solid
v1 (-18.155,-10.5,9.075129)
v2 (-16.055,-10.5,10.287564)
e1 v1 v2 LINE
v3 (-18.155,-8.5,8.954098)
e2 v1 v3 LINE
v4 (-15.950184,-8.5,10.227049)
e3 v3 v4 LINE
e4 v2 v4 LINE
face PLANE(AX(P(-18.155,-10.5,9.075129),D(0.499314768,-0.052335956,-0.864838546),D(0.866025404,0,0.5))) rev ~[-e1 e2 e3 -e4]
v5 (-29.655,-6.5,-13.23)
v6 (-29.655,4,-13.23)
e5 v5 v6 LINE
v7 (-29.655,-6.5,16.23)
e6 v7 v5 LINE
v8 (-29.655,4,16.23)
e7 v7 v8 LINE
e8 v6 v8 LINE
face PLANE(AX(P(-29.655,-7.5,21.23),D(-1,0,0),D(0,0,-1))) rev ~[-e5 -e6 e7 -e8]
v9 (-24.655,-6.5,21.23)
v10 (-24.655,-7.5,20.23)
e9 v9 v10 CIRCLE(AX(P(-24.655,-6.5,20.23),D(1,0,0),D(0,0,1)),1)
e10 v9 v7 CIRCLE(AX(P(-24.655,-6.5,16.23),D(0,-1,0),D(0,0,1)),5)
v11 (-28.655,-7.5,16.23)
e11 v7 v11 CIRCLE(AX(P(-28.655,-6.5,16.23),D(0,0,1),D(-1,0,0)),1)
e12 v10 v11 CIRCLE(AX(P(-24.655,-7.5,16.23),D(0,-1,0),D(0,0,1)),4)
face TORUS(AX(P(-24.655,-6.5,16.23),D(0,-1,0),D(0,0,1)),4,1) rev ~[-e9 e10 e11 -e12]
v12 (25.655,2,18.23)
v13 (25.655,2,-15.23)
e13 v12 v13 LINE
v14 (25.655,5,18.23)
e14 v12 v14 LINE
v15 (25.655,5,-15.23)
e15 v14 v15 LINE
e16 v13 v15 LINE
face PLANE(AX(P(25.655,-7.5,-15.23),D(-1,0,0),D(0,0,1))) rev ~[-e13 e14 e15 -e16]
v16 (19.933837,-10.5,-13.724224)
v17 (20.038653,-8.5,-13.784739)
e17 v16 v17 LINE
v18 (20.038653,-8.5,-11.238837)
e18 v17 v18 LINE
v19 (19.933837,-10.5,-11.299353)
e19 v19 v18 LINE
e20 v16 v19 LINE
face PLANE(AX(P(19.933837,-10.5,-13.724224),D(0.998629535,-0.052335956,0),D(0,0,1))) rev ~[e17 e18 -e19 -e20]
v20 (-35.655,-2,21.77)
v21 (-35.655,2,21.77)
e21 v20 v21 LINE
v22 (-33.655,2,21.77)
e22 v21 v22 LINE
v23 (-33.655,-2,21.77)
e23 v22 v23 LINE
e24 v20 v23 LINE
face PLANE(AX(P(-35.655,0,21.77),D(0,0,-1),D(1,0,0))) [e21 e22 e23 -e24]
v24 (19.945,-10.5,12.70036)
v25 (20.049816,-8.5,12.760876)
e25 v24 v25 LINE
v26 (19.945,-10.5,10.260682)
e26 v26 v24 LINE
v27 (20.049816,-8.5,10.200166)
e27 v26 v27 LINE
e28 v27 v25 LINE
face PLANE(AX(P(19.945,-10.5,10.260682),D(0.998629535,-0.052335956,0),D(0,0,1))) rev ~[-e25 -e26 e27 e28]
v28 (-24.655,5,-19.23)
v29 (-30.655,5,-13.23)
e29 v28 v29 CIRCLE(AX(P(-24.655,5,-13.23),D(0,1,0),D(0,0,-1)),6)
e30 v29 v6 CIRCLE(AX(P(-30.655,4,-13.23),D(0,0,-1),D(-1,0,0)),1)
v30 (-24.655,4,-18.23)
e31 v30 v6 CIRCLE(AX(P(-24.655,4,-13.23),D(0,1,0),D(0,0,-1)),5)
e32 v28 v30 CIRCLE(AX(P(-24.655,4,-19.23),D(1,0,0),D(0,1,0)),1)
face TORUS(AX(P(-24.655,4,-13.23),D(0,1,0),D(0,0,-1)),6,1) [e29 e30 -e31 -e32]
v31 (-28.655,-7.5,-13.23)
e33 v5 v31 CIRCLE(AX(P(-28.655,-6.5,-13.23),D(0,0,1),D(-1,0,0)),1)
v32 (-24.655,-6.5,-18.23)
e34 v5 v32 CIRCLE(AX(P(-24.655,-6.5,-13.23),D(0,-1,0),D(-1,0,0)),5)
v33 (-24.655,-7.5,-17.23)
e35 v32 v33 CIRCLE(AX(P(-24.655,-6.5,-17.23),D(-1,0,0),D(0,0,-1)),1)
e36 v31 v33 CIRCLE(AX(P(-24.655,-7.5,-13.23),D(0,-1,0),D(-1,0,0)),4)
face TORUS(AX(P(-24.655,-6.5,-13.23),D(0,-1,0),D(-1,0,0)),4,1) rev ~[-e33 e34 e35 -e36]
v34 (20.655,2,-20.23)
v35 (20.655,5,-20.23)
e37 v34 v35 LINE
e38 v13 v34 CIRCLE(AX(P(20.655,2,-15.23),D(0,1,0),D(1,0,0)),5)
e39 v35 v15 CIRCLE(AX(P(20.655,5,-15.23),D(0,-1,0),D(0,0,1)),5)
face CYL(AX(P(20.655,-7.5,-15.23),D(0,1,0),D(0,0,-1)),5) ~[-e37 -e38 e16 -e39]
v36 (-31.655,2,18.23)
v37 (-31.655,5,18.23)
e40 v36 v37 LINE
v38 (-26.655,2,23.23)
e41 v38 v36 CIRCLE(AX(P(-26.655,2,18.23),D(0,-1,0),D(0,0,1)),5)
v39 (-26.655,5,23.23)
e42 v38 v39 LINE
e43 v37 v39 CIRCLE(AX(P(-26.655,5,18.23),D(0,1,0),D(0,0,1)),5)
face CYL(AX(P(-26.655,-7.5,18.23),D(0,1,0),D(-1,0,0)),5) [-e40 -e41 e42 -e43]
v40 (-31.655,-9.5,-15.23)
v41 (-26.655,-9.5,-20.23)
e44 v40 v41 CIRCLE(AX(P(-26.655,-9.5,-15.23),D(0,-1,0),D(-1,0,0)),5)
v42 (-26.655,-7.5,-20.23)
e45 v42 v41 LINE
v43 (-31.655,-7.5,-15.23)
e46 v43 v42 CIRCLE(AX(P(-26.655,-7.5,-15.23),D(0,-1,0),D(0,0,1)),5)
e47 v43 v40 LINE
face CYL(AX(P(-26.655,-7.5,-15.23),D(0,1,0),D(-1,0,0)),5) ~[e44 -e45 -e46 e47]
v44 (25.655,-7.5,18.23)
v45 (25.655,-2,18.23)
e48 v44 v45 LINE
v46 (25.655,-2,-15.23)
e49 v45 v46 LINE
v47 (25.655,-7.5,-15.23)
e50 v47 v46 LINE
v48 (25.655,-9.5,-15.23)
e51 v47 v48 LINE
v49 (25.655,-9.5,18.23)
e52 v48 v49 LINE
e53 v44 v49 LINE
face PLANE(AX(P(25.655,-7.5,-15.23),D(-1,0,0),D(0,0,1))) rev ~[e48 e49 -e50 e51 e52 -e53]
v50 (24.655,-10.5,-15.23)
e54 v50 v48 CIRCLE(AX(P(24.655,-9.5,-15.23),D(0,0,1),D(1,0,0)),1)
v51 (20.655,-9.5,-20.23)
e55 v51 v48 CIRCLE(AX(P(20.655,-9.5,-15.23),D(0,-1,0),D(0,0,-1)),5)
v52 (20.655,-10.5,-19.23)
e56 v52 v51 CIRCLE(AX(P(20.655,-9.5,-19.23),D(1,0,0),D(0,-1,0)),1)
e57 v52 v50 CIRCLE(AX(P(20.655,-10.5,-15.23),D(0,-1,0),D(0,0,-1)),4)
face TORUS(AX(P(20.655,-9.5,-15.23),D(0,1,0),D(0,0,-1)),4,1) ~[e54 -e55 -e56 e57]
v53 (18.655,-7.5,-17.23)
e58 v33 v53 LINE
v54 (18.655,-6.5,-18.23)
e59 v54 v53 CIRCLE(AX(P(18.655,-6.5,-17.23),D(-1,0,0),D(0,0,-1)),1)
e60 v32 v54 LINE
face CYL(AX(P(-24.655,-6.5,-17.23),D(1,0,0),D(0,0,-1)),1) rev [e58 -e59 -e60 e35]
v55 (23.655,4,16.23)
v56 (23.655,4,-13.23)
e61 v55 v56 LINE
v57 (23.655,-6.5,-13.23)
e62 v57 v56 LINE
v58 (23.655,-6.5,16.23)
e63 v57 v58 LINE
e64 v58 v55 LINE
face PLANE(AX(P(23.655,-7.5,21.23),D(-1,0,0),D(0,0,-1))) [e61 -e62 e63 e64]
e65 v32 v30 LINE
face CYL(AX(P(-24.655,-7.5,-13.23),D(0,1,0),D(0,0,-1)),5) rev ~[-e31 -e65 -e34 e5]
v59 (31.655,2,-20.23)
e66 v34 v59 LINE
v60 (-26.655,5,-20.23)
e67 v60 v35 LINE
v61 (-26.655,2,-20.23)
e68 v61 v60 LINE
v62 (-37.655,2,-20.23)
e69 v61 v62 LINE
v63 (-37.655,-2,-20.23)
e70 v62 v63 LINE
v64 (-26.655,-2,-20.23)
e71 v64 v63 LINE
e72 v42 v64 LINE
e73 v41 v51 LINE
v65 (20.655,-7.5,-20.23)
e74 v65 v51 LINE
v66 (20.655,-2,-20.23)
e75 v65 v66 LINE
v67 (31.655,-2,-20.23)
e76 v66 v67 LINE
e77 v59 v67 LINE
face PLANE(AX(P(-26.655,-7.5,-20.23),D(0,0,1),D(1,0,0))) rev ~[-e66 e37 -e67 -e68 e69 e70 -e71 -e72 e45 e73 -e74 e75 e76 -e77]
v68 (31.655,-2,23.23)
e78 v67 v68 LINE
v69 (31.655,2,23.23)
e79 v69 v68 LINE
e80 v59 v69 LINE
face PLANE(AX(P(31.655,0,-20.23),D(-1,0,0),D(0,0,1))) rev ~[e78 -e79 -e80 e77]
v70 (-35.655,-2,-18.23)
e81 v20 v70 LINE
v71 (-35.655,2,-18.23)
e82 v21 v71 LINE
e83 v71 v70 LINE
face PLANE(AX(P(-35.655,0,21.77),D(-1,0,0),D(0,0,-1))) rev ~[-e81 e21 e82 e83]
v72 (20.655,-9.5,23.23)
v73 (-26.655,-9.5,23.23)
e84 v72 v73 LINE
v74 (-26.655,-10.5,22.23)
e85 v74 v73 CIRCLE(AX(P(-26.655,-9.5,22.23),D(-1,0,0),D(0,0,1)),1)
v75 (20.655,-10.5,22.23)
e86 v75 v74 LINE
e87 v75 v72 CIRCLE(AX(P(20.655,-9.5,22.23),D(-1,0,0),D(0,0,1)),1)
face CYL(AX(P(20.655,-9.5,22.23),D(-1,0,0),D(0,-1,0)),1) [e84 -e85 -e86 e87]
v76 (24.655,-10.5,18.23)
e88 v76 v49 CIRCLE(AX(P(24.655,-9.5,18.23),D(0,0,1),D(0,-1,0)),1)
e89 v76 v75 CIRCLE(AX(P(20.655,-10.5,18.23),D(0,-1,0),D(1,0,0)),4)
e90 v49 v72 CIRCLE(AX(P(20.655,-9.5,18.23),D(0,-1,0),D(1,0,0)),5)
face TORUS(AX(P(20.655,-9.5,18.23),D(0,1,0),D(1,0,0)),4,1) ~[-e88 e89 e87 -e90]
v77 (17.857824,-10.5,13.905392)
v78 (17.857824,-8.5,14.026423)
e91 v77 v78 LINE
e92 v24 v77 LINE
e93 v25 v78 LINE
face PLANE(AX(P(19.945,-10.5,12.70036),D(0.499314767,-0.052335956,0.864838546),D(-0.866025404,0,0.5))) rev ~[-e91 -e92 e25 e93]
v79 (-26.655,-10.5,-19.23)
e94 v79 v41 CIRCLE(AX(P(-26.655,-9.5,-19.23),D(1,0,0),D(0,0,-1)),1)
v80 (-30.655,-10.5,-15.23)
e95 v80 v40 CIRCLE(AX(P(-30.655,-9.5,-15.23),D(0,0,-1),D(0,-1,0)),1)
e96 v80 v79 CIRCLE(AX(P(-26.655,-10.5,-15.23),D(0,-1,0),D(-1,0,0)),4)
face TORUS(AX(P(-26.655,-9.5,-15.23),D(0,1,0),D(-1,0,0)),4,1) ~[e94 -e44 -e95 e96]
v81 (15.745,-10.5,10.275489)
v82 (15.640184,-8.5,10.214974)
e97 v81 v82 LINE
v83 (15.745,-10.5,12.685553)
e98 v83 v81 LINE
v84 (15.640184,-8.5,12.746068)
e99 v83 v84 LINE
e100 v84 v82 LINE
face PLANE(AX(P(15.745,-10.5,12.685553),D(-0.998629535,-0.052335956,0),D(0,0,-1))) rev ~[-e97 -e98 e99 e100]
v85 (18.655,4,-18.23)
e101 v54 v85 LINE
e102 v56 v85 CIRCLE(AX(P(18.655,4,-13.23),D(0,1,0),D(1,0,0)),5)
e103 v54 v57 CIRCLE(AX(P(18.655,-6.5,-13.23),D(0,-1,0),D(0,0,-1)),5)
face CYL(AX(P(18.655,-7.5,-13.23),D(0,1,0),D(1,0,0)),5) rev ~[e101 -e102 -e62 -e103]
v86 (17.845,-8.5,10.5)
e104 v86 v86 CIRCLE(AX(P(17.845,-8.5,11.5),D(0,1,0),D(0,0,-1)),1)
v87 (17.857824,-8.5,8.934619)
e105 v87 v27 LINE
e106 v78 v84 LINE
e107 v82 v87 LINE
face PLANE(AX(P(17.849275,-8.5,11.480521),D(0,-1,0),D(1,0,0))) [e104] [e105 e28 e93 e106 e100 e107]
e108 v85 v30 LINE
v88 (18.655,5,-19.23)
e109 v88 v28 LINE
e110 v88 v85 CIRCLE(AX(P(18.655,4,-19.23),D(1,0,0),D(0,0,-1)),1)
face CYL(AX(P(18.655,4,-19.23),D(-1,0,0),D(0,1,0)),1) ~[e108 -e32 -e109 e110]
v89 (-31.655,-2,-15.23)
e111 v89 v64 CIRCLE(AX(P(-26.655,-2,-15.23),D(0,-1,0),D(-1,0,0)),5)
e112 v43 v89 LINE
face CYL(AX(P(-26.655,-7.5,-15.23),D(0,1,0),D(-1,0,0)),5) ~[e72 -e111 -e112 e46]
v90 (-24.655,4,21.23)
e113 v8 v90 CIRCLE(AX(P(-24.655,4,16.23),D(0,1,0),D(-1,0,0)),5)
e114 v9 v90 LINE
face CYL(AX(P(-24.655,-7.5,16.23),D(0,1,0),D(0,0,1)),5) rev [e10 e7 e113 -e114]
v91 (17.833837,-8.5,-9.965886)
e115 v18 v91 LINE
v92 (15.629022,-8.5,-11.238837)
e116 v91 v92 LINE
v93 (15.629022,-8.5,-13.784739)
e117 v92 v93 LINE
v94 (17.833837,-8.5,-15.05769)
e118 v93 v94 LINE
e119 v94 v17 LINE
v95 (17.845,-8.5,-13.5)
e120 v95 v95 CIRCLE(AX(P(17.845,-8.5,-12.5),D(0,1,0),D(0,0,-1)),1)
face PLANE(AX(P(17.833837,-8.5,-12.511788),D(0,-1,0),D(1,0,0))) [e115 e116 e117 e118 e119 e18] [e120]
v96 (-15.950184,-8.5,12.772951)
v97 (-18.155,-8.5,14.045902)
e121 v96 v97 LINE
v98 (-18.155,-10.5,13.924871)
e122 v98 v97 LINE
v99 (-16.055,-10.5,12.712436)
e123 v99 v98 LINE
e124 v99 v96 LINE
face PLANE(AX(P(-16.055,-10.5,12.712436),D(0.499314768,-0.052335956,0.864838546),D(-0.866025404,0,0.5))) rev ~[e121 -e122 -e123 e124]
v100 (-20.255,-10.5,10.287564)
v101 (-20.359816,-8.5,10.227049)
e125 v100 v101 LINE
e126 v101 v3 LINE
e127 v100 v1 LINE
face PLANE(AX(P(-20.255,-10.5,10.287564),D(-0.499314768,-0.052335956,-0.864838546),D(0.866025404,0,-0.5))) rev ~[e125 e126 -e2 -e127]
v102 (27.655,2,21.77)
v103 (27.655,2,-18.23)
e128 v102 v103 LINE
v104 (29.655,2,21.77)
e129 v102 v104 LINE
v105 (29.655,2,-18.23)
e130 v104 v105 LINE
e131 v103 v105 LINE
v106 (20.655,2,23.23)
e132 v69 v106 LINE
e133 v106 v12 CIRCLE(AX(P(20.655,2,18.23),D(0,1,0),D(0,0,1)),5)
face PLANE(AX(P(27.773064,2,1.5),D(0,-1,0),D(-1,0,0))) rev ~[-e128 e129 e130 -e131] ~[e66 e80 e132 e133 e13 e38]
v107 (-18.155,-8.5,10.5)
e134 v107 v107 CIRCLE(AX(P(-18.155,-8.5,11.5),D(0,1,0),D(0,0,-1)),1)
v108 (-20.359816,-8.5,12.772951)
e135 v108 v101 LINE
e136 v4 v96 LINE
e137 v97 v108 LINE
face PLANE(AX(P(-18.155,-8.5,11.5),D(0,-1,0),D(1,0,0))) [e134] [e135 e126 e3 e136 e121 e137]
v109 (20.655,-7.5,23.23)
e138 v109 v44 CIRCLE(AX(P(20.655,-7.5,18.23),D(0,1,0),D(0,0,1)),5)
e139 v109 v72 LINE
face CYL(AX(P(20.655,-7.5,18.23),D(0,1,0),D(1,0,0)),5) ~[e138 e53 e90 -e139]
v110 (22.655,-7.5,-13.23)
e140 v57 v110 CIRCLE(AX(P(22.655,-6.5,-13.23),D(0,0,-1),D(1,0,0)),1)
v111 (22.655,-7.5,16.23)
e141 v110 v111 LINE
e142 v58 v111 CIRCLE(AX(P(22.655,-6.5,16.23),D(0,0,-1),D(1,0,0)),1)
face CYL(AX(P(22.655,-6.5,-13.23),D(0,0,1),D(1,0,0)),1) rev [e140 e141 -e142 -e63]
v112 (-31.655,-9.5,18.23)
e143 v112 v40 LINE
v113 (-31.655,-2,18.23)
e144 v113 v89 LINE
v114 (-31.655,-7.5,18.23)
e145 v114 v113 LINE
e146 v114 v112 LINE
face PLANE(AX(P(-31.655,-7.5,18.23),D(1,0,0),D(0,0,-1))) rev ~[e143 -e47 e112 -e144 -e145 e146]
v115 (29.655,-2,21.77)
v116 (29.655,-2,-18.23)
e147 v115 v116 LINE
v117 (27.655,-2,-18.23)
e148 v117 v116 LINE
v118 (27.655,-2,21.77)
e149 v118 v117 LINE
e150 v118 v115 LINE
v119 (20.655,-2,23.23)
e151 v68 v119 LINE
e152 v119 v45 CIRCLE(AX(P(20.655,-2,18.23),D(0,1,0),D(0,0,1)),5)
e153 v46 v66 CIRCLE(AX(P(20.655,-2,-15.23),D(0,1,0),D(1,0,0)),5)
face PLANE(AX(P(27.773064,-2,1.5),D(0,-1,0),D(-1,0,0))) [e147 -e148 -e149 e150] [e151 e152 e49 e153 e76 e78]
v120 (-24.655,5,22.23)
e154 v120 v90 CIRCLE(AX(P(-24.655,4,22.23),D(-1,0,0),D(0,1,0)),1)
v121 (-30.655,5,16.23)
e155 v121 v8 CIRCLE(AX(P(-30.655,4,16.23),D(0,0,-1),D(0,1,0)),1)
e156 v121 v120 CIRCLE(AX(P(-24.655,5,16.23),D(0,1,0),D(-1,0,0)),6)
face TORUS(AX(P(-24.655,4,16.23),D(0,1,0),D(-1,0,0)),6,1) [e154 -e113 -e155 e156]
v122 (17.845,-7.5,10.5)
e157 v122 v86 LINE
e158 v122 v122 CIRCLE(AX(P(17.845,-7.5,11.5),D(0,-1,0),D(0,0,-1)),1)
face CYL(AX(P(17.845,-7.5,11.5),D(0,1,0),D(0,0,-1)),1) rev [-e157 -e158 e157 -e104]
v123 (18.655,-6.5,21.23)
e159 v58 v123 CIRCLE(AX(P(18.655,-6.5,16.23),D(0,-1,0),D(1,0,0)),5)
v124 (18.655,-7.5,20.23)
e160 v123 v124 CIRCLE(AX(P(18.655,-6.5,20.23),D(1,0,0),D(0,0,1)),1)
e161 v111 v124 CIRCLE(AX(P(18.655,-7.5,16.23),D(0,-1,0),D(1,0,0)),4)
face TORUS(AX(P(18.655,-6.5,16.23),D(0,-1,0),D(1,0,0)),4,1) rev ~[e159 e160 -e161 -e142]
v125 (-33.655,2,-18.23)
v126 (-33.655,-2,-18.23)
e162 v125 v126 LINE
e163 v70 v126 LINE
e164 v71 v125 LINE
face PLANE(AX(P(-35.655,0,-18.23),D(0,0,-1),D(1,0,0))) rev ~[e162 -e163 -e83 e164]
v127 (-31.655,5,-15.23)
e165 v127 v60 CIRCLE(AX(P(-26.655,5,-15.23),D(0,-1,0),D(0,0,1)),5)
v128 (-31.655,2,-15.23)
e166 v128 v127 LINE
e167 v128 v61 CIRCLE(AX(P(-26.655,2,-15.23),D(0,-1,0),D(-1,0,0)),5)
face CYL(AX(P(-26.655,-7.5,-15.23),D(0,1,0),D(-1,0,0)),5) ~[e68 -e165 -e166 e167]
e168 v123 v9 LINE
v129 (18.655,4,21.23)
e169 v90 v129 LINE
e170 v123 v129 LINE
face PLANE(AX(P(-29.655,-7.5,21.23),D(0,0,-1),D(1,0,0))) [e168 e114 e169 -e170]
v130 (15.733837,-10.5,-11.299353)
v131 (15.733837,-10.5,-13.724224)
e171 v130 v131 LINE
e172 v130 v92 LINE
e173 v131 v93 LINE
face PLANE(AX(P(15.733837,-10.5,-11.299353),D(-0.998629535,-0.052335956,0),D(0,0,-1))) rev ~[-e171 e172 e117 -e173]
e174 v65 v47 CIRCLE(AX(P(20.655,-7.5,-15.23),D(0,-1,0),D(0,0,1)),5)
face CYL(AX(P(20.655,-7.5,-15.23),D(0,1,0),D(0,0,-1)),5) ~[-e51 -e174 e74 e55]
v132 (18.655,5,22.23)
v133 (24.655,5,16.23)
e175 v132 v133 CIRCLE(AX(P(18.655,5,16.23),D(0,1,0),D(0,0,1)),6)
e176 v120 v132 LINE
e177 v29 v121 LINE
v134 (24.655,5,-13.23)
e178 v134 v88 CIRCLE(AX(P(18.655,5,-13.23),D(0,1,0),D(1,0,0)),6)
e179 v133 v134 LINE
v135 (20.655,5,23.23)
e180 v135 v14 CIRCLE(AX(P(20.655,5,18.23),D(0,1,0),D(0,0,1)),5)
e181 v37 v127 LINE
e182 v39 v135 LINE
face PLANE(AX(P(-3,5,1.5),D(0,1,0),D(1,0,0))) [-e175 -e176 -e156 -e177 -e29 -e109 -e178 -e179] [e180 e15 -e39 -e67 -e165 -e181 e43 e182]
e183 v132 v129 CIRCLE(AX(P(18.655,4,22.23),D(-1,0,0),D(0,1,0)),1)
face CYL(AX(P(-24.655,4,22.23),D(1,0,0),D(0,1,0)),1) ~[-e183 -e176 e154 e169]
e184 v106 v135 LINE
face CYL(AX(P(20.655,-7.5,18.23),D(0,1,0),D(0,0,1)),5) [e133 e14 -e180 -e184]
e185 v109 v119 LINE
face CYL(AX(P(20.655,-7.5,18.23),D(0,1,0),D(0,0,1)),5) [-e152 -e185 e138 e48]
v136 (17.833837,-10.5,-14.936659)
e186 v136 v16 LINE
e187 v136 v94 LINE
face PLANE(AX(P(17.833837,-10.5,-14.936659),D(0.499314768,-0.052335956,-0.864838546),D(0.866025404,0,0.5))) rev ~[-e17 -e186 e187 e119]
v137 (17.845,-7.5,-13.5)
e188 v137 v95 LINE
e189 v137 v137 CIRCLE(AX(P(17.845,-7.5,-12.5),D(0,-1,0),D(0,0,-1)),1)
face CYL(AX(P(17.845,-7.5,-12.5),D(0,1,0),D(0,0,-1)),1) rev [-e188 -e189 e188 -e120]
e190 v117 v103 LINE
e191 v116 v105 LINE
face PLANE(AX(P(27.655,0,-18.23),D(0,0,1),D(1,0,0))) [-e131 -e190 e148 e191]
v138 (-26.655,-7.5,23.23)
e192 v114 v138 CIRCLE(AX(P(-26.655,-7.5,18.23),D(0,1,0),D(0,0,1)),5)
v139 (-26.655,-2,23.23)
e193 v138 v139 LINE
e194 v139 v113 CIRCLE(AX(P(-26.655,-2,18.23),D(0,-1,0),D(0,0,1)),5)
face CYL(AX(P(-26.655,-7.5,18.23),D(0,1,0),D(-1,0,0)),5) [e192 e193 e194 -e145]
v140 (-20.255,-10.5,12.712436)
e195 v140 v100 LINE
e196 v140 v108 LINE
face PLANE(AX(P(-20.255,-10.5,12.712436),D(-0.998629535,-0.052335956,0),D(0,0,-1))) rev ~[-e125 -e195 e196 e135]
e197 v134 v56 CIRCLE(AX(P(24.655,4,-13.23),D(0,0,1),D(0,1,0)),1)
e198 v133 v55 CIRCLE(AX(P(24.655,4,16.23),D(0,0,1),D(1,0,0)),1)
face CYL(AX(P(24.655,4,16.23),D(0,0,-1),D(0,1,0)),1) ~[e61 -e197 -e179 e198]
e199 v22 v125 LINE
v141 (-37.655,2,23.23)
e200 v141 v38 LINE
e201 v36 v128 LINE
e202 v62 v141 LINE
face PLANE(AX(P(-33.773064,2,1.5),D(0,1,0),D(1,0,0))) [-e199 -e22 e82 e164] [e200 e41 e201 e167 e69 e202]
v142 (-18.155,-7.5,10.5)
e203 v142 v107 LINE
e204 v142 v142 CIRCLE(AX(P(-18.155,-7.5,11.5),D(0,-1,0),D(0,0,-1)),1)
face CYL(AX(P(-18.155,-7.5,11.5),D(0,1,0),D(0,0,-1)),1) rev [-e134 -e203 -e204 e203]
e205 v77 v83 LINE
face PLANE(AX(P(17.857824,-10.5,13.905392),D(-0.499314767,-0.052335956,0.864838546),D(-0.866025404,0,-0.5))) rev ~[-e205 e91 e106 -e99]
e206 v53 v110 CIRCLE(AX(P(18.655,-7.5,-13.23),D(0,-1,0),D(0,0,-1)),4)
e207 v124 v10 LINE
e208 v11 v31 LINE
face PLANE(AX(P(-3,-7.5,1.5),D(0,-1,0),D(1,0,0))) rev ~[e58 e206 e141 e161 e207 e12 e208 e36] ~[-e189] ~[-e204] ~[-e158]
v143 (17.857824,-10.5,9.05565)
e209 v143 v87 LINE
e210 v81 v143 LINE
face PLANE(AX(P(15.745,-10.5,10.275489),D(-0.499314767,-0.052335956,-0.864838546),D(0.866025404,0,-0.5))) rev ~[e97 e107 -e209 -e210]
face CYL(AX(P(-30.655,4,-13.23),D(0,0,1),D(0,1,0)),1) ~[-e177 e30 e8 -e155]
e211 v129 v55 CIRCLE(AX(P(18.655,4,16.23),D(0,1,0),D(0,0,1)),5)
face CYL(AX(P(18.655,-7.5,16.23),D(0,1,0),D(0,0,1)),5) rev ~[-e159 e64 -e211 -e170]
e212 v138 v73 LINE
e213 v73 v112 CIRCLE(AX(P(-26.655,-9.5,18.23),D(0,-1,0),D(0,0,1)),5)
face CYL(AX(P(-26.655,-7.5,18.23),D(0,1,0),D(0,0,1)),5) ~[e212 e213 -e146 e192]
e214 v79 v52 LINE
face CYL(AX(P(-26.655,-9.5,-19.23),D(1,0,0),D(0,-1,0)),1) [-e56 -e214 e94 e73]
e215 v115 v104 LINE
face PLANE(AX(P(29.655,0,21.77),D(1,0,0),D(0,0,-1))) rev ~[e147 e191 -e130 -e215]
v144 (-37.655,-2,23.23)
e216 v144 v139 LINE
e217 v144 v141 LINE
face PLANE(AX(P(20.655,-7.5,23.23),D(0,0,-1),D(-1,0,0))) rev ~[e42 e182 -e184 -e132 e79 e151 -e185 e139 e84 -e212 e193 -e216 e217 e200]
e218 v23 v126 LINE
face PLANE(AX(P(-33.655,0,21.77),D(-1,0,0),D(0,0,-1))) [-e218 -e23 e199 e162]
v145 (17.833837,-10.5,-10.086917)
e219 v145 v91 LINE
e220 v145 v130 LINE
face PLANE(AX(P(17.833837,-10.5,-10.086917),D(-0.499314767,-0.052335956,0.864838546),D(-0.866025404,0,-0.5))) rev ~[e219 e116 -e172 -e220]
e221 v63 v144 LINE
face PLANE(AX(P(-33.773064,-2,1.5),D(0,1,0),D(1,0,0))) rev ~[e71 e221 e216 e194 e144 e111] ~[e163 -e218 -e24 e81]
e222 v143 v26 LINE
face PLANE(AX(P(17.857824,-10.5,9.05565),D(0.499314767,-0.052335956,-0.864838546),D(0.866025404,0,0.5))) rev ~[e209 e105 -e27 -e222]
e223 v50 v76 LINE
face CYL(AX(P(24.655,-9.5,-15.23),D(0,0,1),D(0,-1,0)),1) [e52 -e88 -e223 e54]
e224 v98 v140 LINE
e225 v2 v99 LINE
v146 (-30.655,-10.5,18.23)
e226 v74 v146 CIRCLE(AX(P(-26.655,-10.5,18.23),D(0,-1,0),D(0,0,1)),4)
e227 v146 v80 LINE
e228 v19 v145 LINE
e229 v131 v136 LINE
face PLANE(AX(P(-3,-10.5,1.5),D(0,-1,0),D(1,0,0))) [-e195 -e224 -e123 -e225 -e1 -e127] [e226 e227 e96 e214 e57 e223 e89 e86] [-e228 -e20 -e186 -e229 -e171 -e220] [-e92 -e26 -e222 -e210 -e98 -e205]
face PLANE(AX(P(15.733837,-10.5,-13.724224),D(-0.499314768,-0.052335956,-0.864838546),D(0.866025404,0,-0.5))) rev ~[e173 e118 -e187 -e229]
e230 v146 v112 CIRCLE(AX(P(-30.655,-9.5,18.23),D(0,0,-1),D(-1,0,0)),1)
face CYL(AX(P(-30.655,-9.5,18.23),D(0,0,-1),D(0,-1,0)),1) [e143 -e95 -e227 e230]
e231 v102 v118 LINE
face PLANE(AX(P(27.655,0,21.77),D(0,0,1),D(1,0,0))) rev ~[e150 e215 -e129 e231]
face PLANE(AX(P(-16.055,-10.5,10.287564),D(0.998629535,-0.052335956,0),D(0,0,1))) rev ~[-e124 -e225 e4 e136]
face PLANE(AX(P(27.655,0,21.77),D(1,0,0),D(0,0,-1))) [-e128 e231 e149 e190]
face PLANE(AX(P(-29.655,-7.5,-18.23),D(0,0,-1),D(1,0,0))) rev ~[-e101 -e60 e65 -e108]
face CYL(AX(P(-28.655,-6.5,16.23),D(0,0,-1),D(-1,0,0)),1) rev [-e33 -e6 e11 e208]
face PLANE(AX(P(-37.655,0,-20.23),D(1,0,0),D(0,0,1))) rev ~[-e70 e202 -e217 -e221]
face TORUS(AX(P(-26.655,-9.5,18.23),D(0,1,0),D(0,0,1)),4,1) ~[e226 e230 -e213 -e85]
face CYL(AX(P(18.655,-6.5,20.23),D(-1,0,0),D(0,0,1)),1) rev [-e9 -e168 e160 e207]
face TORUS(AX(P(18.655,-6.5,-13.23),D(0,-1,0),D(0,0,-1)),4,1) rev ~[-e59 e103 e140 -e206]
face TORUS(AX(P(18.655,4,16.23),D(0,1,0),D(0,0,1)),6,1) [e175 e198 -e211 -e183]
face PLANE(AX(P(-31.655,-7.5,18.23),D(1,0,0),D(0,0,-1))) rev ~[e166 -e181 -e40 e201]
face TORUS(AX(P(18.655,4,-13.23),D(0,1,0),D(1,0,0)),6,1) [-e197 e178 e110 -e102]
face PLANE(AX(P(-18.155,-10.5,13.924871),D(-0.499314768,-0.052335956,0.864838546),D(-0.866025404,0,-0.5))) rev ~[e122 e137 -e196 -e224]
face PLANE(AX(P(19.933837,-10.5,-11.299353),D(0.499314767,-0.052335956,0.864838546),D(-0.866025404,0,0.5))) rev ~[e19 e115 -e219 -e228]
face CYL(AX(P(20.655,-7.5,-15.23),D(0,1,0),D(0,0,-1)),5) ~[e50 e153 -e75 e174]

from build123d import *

# Parameters (mm, degrees)
BOSS_EXTRUDE1_DEPTH          = 5
BOSS_EXTRUDE1_DEPTH_BACK     = 7.5
SKETCH2_W                    = 57.31
SKETCH2_H                    = 43.46
SKETCH2_W_2                  = 53.31
SKETCH2_H_2                  = 39.46
FILLET1_R                    = 5
SKETCH3_R                    = 1
BOSS_EXTRUDE2_DEPTH          = 3
CUT_EXTRUDE1_DEPTH           = 2
CUT_EXTRUDE1_DRAFT           = 3
SKETCH5_R                    = 1
CUT_EXTRUDE1_PROFILE_2_DEPTH = 2
CUT_EXTRUDE1_PROFILE_2_DRAFT = 3
CUT_EXTRUDE1_PROFILE_3_DEPTH = 2
CUT_EXTRUDE1_PROFILE_3_DRAFT = 3
FILLET2_R                    = 1
SKETCH6_W                    = 2
SKETCH6_H                    = 40
BOSS_EXTRUDE3_DEPTH          = 2
FILLET3_R                    = 1


with BuildPart() as part:
    # Sketch2 → Boss-Extrude1 (new, two sides: drawn at the far end of the back side and taken through both)
    with BuildSketch(Plane(origin=(0, 0, 0), x_dir=(1, 0, 0), z_dir=(0, 1, 0)).offset(-BOSS_EXTRUDE1_DEPTH_BACK)):
        with Locations((-3, -1.5)):
            Rectangle(SKETCH2_W, SKETCH2_H)
        with Locations((-3, -1.5)):
            Rectangle(SKETCH2_W_2, SKETCH2_H_2, mode=Mode.SUBTRACT)
    extrude(amount=BOSS_EXTRUDE1_DEPTH + BOSS_EXTRUDE1_DEPTH_BACK)

    # Fillet1
    fillet1_edges = [part.edges().sort_by_distance(p)[0] for p in [
        (-29.655, -1.25, 21.23),
        (-29.655, -1.25, -18.23),
        (23.655, -1.25, -18.23),
        (23.655, -1.25, 21.23),
        (-31.655, -1.25, -20.23),
        (25.655, -1.25, -20.23),
        (25.655, -1.25, 23.23),
        (-31.655, -1.25, 23.23),
    ]]
    fillet(fillet1_edges, radius=FILLET1_R)

    # Sketch3 → Boss-Extrude2 (add)
    with BuildSketch(Plane.XZ.offset(7.5)):
        with BuildLine():
            Line((-31.655, 18.23), (-31.655, -15.23))
            ThreePointArc((-31.655, -15.23), (-30.190533906, -18.765533906), (-26.655, -20.23))
            Line((-26.655, -20.23), (20.655, -20.23))
            ThreePointArc((20.655, -20.23), (24.190533906, -18.765533906), (25.655, -15.23))
            Line((25.655, -15.23), (25.655, 18.23))
            ThreePointArc((25.655, 18.23), (24.190533906, 21.765533906), (20.655, 23.23))
            Line((20.655, 23.23), (-26.655, 23.23))
            ThreePointArc((-26.655, 23.23), (-30.190533906, 21.765533906), (-31.655, 18.23))
        make_face()
        with Locations(Location((-18.155, 11.5, 0), (0, 0, 270))):
            Circle(SKETCH3_R, mode=Mode.SUBTRACT)
        with Locations(Location((17.845, 11.5, 0), (0, 0, 270))):
            Circle(SKETCH3_R, mode=Mode.SUBTRACT)
        with Locations(Location((17.845, -12.5, 0), (0, 0, 270))):
            Circle(SKETCH3_R, mode=Mode.SUBTRACT)
    extrude(amount=BOSS_EXTRUDE2_DEPTH)


with BuildPart() as cut_extrude1_tool:
    # Sketch5 → Cut-Extrude1 (with draft: the straight prism first)
    with BuildSketch(Plane.XZ.offset(10.5)):
        Polygon((-18.155, 13.924871131), (-20.255, 12.712435565), (-20.255, 10.287564435), (-18.155, 9.075128869), (-16.055, 10.287564435), (-16.055, 12.712435565), align=None)
    extrude(amount=-CUT_EXTRUDE1_DEPTH)
    # Cut-Extrude1: the draft: its side faces are tilted about the plane it starts from
    cut_extrude1_sides = [cut_extrude1_tool.faces().sort_by_distance(p)[0] for p in [
        (-19.205, -9.5, 13.318653348),
        (-20.255, -9.5, 11.5),
        (-19.205, -9.5, 9.681346652),
        (-17.105, -9.5, 9.681346652),
        (-16.055, -9.5, 11.5),
        (-17.105, -9.5, 13.318653348),
    ]]
    draft(cut_extrude1_sides, Plane.XZ.offset(10.5), CUT_EXTRUDE1_DRAFT)


with BuildPart() as part_1:
    add(part.part)

    # Cut-Extrude1: cut by cut_extrude1_tool
    add(cut_extrude1_tool.part, mode=Mode.SUBTRACT)


with BuildPart() as cut_extrude1_profile_2_tool:
    # Sketch5 → Cut-Extrude1 profile 2 (with draft: the straight prism first)
    with BuildSketch(Plane.XZ.offset(10.5)):
        Polygon((17.857823878, 13.905392128), (15.745, 12.685552694), (15.745, 10.275489302), (17.857823878, 9.055649867), (19.945, 10.260681563), (19.945, 12.700360432), align=None)
        with Locations(Location((17.845, 11.5, 0), (0, 0, 270))):
            Circle(SKETCH5_R, mode=Mode.SUBTRACT)
    extrude(amount=-CUT_EXTRUDE1_PROFILE_2_DEPTH)
    # Cut-Extrude1 profile 2: the draft: its side faces are tilted about the plane it starts from
    cut_extrude1_profile_2_sides = [cut_extrude1_profile_2_tool.faces().sort_by_distance(p)[0] for p in [
        (16.801411939, -9.5, 13.295472411),
        (15.745, -9.5, 11.480520998),
        (16.801411939, -9.5, 9.665569584),
        (18.901411939, -9.5, 9.658165715),
        (19.945, -9.5, 11.480520998),
        (18.901411939, -9.5, 13.30287628),
        (17.845, -9.5, 12.5),
    ]]
    draft(cut_extrude1_profile_2_sides, Plane.XZ.offset(10.5), CUT_EXTRUDE1_PROFILE_2_DRAFT)


with BuildPart() as part_2:
    add(part_1.part)

    # Cut-Extrude1 profile 2: cut by cut_extrude1_profile_2_tool
    add(cut_extrude1_profile_2_tool.part, mode=Mode.SUBTRACT)


with BuildPart() as cut_extrude1_profile_3_tool:
    # Sketch5 → Cut-Extrude1 profile 3 (with draft: the straight prism first)
    with BuildSketch(Plane.XZ.offset(10.5)):
        Polygon((17.833837254, -10.086917044), (15.733837254, -11.299352609), (15.733837254, -13.724223739), (17.833837254, -14.936659305), (19.933837254, -13.724223739), (19.933837254, -11.299352609), align=None)
        with Locations(Location((17.845, -12.5, 0), (0, 0, 270))):
            Circle(SKETCH5_R, mode=Mode.SUBTRACT)
    extrude(amount=-CUT_EXTRUDE1_PROFILE_3_DEPTH)
    # Cut-Extrude1 profile 3: the draft: its side faces are tilted about the plane it starts from
    cut_extrude1_profile_3_sides = [cut_extrude1_profile_3_tool.faces().sort_by_distance(p)[0] for p in [
        (16.783837254, -9.5, -10.693134826),
        (15.733837254, -9.5, -12.511788174),
        (16.783837254, -9.5, -14.330441522),
        (18.883837254, -9.5, -14.330441522),
        (19.933837254, -9.5, -12.511788174),
        (18.883837254, -9.5, -10.693134826),
        (17.845, -9.5, -11.5),
    ]]
    draft(cut_extrude1_profile_3_sides, Plane.XZ.offset(10.5), CUT_EXTRUDE1_PROFILE_3_DRAFT)


with BuildPart() as part_3:
    add(part_2.part)

    # Cut-Extrude1 profile 3: cut by cut_extrude1_profile_3_tool
    add(cut_extrude1_profile_3_tool.part, mode=Mode.SUBTRACT)

    # Fillet2
    fillet2_edges = [part_3.edges().sort_by_distance(p)[0] for p in [
        (-3, 5, 21.23),
        (-29.655, 5, 1.5),
        (-3, 5, -18.23),
        (23.655, 5, 1.5),
        (-3, -7.5, -18.23),
        (-29.655, -7.5, 1.5),
        (-3, -7.5, 21.23),
        (23.655, -7.5, 1.5),
        (22.190533906, 5, 19.765533906),
        (22.190533906, -7.5, 19.765533906),
        (-28.190533906, 5, 19.765533906),
        (-28.190533906, -7.5, 19.765533906),
        (22.190533906, 5, -16.765533906),
        (22.190533906, -7.5, -16.765533906),
        (-28.190533906, 5, -16.765533906),
        (-28.190533906, -7.5, -16.765533906),
    ]]
    fillet(fillet2_edges, radius=FILLET2_R)

    # Sketch6 → Boss-Extrude3 (add, symmetric)
    # profile 1 of 2: a face of its own
    with BuildSketch(Plane(origin=(0, 0, 0), x_dir=(1, 0, 0), z_dir=(0, 1, 0))):
        with BuildLine():
            Line((-37.655, 20.23), (-37.655, -23.23))
            Line((-37.655, -23.23), (-26.655, -23.23))
            ThreePointArc((-26.655, -23.23), (-30.190533906, -21.765533906), (-31.655, -18.23))
            Line((-31.655, -18.23), (-31.655, 15.23))
            ThreePointArc((-31.655, 15.23), (-30.190533906, 18.765533906), (-26.655, 20.23))
            Line((-26.655, 20.23), (-37.655, 20.23))
        make_face()
        with Locations((-34.655, -1.77)):
            Rectangle(SKETCH6_W, SKETCH6_H, mode=Mode.SUBTRACT)
    # profile 2 of 2: a face of its own
    with BuildSketch(Plane(origin=(0, 0, 0), x_dir=(1, 0, 0), z_dir=(0, 1, 0))):
        with BuildLine():
            Line((20.655, 20.23), (31.655, 20.23))
            Line((31.655, 20.23), (31.655, -23.23))
            Line((31.655, -23.23), (20.655, -23.23))
            ThreePointArc((20.655, -23.23), (24.190533906, -21.765533906), (25.655, -18.23))
            Line((25.655, -18.23), (25.655, 15.23))
            ThreePointArc((25.655, 15.23), (24.190533906, 18.765533906), (20.655, 20.23))
        make_face()
        with Locations((28.655, -1.77)):
            Rectangle(SKETCH6_W, SKETCH6_H, mode=Mode.SUBTRACT)
    extrude(amount=BOSS_EXTRUDE3_DEPTH, both=True)

    # Fillet3
    fillet3_edges = [part_3.edges().sort_by_distance(p)[0] for p in [
        (-30.190533906, -10.5, 21.765533906),
        (-31.655, -10.5, 1.5),
        (-30.190533906, -10.5, -18.765533906),
        (-3, -10.5, -20.23),
        (24.190533906, -10.5, -18.765533906),
        (25.655, -10.5, 1.5),
        (24.190533906, -10.5, 21.765533906),
        (-3, -10.5, 23.23),
    ]]
    fillet(fillet3_edges, radius=FILLET3_R)


solid = part_3.part
